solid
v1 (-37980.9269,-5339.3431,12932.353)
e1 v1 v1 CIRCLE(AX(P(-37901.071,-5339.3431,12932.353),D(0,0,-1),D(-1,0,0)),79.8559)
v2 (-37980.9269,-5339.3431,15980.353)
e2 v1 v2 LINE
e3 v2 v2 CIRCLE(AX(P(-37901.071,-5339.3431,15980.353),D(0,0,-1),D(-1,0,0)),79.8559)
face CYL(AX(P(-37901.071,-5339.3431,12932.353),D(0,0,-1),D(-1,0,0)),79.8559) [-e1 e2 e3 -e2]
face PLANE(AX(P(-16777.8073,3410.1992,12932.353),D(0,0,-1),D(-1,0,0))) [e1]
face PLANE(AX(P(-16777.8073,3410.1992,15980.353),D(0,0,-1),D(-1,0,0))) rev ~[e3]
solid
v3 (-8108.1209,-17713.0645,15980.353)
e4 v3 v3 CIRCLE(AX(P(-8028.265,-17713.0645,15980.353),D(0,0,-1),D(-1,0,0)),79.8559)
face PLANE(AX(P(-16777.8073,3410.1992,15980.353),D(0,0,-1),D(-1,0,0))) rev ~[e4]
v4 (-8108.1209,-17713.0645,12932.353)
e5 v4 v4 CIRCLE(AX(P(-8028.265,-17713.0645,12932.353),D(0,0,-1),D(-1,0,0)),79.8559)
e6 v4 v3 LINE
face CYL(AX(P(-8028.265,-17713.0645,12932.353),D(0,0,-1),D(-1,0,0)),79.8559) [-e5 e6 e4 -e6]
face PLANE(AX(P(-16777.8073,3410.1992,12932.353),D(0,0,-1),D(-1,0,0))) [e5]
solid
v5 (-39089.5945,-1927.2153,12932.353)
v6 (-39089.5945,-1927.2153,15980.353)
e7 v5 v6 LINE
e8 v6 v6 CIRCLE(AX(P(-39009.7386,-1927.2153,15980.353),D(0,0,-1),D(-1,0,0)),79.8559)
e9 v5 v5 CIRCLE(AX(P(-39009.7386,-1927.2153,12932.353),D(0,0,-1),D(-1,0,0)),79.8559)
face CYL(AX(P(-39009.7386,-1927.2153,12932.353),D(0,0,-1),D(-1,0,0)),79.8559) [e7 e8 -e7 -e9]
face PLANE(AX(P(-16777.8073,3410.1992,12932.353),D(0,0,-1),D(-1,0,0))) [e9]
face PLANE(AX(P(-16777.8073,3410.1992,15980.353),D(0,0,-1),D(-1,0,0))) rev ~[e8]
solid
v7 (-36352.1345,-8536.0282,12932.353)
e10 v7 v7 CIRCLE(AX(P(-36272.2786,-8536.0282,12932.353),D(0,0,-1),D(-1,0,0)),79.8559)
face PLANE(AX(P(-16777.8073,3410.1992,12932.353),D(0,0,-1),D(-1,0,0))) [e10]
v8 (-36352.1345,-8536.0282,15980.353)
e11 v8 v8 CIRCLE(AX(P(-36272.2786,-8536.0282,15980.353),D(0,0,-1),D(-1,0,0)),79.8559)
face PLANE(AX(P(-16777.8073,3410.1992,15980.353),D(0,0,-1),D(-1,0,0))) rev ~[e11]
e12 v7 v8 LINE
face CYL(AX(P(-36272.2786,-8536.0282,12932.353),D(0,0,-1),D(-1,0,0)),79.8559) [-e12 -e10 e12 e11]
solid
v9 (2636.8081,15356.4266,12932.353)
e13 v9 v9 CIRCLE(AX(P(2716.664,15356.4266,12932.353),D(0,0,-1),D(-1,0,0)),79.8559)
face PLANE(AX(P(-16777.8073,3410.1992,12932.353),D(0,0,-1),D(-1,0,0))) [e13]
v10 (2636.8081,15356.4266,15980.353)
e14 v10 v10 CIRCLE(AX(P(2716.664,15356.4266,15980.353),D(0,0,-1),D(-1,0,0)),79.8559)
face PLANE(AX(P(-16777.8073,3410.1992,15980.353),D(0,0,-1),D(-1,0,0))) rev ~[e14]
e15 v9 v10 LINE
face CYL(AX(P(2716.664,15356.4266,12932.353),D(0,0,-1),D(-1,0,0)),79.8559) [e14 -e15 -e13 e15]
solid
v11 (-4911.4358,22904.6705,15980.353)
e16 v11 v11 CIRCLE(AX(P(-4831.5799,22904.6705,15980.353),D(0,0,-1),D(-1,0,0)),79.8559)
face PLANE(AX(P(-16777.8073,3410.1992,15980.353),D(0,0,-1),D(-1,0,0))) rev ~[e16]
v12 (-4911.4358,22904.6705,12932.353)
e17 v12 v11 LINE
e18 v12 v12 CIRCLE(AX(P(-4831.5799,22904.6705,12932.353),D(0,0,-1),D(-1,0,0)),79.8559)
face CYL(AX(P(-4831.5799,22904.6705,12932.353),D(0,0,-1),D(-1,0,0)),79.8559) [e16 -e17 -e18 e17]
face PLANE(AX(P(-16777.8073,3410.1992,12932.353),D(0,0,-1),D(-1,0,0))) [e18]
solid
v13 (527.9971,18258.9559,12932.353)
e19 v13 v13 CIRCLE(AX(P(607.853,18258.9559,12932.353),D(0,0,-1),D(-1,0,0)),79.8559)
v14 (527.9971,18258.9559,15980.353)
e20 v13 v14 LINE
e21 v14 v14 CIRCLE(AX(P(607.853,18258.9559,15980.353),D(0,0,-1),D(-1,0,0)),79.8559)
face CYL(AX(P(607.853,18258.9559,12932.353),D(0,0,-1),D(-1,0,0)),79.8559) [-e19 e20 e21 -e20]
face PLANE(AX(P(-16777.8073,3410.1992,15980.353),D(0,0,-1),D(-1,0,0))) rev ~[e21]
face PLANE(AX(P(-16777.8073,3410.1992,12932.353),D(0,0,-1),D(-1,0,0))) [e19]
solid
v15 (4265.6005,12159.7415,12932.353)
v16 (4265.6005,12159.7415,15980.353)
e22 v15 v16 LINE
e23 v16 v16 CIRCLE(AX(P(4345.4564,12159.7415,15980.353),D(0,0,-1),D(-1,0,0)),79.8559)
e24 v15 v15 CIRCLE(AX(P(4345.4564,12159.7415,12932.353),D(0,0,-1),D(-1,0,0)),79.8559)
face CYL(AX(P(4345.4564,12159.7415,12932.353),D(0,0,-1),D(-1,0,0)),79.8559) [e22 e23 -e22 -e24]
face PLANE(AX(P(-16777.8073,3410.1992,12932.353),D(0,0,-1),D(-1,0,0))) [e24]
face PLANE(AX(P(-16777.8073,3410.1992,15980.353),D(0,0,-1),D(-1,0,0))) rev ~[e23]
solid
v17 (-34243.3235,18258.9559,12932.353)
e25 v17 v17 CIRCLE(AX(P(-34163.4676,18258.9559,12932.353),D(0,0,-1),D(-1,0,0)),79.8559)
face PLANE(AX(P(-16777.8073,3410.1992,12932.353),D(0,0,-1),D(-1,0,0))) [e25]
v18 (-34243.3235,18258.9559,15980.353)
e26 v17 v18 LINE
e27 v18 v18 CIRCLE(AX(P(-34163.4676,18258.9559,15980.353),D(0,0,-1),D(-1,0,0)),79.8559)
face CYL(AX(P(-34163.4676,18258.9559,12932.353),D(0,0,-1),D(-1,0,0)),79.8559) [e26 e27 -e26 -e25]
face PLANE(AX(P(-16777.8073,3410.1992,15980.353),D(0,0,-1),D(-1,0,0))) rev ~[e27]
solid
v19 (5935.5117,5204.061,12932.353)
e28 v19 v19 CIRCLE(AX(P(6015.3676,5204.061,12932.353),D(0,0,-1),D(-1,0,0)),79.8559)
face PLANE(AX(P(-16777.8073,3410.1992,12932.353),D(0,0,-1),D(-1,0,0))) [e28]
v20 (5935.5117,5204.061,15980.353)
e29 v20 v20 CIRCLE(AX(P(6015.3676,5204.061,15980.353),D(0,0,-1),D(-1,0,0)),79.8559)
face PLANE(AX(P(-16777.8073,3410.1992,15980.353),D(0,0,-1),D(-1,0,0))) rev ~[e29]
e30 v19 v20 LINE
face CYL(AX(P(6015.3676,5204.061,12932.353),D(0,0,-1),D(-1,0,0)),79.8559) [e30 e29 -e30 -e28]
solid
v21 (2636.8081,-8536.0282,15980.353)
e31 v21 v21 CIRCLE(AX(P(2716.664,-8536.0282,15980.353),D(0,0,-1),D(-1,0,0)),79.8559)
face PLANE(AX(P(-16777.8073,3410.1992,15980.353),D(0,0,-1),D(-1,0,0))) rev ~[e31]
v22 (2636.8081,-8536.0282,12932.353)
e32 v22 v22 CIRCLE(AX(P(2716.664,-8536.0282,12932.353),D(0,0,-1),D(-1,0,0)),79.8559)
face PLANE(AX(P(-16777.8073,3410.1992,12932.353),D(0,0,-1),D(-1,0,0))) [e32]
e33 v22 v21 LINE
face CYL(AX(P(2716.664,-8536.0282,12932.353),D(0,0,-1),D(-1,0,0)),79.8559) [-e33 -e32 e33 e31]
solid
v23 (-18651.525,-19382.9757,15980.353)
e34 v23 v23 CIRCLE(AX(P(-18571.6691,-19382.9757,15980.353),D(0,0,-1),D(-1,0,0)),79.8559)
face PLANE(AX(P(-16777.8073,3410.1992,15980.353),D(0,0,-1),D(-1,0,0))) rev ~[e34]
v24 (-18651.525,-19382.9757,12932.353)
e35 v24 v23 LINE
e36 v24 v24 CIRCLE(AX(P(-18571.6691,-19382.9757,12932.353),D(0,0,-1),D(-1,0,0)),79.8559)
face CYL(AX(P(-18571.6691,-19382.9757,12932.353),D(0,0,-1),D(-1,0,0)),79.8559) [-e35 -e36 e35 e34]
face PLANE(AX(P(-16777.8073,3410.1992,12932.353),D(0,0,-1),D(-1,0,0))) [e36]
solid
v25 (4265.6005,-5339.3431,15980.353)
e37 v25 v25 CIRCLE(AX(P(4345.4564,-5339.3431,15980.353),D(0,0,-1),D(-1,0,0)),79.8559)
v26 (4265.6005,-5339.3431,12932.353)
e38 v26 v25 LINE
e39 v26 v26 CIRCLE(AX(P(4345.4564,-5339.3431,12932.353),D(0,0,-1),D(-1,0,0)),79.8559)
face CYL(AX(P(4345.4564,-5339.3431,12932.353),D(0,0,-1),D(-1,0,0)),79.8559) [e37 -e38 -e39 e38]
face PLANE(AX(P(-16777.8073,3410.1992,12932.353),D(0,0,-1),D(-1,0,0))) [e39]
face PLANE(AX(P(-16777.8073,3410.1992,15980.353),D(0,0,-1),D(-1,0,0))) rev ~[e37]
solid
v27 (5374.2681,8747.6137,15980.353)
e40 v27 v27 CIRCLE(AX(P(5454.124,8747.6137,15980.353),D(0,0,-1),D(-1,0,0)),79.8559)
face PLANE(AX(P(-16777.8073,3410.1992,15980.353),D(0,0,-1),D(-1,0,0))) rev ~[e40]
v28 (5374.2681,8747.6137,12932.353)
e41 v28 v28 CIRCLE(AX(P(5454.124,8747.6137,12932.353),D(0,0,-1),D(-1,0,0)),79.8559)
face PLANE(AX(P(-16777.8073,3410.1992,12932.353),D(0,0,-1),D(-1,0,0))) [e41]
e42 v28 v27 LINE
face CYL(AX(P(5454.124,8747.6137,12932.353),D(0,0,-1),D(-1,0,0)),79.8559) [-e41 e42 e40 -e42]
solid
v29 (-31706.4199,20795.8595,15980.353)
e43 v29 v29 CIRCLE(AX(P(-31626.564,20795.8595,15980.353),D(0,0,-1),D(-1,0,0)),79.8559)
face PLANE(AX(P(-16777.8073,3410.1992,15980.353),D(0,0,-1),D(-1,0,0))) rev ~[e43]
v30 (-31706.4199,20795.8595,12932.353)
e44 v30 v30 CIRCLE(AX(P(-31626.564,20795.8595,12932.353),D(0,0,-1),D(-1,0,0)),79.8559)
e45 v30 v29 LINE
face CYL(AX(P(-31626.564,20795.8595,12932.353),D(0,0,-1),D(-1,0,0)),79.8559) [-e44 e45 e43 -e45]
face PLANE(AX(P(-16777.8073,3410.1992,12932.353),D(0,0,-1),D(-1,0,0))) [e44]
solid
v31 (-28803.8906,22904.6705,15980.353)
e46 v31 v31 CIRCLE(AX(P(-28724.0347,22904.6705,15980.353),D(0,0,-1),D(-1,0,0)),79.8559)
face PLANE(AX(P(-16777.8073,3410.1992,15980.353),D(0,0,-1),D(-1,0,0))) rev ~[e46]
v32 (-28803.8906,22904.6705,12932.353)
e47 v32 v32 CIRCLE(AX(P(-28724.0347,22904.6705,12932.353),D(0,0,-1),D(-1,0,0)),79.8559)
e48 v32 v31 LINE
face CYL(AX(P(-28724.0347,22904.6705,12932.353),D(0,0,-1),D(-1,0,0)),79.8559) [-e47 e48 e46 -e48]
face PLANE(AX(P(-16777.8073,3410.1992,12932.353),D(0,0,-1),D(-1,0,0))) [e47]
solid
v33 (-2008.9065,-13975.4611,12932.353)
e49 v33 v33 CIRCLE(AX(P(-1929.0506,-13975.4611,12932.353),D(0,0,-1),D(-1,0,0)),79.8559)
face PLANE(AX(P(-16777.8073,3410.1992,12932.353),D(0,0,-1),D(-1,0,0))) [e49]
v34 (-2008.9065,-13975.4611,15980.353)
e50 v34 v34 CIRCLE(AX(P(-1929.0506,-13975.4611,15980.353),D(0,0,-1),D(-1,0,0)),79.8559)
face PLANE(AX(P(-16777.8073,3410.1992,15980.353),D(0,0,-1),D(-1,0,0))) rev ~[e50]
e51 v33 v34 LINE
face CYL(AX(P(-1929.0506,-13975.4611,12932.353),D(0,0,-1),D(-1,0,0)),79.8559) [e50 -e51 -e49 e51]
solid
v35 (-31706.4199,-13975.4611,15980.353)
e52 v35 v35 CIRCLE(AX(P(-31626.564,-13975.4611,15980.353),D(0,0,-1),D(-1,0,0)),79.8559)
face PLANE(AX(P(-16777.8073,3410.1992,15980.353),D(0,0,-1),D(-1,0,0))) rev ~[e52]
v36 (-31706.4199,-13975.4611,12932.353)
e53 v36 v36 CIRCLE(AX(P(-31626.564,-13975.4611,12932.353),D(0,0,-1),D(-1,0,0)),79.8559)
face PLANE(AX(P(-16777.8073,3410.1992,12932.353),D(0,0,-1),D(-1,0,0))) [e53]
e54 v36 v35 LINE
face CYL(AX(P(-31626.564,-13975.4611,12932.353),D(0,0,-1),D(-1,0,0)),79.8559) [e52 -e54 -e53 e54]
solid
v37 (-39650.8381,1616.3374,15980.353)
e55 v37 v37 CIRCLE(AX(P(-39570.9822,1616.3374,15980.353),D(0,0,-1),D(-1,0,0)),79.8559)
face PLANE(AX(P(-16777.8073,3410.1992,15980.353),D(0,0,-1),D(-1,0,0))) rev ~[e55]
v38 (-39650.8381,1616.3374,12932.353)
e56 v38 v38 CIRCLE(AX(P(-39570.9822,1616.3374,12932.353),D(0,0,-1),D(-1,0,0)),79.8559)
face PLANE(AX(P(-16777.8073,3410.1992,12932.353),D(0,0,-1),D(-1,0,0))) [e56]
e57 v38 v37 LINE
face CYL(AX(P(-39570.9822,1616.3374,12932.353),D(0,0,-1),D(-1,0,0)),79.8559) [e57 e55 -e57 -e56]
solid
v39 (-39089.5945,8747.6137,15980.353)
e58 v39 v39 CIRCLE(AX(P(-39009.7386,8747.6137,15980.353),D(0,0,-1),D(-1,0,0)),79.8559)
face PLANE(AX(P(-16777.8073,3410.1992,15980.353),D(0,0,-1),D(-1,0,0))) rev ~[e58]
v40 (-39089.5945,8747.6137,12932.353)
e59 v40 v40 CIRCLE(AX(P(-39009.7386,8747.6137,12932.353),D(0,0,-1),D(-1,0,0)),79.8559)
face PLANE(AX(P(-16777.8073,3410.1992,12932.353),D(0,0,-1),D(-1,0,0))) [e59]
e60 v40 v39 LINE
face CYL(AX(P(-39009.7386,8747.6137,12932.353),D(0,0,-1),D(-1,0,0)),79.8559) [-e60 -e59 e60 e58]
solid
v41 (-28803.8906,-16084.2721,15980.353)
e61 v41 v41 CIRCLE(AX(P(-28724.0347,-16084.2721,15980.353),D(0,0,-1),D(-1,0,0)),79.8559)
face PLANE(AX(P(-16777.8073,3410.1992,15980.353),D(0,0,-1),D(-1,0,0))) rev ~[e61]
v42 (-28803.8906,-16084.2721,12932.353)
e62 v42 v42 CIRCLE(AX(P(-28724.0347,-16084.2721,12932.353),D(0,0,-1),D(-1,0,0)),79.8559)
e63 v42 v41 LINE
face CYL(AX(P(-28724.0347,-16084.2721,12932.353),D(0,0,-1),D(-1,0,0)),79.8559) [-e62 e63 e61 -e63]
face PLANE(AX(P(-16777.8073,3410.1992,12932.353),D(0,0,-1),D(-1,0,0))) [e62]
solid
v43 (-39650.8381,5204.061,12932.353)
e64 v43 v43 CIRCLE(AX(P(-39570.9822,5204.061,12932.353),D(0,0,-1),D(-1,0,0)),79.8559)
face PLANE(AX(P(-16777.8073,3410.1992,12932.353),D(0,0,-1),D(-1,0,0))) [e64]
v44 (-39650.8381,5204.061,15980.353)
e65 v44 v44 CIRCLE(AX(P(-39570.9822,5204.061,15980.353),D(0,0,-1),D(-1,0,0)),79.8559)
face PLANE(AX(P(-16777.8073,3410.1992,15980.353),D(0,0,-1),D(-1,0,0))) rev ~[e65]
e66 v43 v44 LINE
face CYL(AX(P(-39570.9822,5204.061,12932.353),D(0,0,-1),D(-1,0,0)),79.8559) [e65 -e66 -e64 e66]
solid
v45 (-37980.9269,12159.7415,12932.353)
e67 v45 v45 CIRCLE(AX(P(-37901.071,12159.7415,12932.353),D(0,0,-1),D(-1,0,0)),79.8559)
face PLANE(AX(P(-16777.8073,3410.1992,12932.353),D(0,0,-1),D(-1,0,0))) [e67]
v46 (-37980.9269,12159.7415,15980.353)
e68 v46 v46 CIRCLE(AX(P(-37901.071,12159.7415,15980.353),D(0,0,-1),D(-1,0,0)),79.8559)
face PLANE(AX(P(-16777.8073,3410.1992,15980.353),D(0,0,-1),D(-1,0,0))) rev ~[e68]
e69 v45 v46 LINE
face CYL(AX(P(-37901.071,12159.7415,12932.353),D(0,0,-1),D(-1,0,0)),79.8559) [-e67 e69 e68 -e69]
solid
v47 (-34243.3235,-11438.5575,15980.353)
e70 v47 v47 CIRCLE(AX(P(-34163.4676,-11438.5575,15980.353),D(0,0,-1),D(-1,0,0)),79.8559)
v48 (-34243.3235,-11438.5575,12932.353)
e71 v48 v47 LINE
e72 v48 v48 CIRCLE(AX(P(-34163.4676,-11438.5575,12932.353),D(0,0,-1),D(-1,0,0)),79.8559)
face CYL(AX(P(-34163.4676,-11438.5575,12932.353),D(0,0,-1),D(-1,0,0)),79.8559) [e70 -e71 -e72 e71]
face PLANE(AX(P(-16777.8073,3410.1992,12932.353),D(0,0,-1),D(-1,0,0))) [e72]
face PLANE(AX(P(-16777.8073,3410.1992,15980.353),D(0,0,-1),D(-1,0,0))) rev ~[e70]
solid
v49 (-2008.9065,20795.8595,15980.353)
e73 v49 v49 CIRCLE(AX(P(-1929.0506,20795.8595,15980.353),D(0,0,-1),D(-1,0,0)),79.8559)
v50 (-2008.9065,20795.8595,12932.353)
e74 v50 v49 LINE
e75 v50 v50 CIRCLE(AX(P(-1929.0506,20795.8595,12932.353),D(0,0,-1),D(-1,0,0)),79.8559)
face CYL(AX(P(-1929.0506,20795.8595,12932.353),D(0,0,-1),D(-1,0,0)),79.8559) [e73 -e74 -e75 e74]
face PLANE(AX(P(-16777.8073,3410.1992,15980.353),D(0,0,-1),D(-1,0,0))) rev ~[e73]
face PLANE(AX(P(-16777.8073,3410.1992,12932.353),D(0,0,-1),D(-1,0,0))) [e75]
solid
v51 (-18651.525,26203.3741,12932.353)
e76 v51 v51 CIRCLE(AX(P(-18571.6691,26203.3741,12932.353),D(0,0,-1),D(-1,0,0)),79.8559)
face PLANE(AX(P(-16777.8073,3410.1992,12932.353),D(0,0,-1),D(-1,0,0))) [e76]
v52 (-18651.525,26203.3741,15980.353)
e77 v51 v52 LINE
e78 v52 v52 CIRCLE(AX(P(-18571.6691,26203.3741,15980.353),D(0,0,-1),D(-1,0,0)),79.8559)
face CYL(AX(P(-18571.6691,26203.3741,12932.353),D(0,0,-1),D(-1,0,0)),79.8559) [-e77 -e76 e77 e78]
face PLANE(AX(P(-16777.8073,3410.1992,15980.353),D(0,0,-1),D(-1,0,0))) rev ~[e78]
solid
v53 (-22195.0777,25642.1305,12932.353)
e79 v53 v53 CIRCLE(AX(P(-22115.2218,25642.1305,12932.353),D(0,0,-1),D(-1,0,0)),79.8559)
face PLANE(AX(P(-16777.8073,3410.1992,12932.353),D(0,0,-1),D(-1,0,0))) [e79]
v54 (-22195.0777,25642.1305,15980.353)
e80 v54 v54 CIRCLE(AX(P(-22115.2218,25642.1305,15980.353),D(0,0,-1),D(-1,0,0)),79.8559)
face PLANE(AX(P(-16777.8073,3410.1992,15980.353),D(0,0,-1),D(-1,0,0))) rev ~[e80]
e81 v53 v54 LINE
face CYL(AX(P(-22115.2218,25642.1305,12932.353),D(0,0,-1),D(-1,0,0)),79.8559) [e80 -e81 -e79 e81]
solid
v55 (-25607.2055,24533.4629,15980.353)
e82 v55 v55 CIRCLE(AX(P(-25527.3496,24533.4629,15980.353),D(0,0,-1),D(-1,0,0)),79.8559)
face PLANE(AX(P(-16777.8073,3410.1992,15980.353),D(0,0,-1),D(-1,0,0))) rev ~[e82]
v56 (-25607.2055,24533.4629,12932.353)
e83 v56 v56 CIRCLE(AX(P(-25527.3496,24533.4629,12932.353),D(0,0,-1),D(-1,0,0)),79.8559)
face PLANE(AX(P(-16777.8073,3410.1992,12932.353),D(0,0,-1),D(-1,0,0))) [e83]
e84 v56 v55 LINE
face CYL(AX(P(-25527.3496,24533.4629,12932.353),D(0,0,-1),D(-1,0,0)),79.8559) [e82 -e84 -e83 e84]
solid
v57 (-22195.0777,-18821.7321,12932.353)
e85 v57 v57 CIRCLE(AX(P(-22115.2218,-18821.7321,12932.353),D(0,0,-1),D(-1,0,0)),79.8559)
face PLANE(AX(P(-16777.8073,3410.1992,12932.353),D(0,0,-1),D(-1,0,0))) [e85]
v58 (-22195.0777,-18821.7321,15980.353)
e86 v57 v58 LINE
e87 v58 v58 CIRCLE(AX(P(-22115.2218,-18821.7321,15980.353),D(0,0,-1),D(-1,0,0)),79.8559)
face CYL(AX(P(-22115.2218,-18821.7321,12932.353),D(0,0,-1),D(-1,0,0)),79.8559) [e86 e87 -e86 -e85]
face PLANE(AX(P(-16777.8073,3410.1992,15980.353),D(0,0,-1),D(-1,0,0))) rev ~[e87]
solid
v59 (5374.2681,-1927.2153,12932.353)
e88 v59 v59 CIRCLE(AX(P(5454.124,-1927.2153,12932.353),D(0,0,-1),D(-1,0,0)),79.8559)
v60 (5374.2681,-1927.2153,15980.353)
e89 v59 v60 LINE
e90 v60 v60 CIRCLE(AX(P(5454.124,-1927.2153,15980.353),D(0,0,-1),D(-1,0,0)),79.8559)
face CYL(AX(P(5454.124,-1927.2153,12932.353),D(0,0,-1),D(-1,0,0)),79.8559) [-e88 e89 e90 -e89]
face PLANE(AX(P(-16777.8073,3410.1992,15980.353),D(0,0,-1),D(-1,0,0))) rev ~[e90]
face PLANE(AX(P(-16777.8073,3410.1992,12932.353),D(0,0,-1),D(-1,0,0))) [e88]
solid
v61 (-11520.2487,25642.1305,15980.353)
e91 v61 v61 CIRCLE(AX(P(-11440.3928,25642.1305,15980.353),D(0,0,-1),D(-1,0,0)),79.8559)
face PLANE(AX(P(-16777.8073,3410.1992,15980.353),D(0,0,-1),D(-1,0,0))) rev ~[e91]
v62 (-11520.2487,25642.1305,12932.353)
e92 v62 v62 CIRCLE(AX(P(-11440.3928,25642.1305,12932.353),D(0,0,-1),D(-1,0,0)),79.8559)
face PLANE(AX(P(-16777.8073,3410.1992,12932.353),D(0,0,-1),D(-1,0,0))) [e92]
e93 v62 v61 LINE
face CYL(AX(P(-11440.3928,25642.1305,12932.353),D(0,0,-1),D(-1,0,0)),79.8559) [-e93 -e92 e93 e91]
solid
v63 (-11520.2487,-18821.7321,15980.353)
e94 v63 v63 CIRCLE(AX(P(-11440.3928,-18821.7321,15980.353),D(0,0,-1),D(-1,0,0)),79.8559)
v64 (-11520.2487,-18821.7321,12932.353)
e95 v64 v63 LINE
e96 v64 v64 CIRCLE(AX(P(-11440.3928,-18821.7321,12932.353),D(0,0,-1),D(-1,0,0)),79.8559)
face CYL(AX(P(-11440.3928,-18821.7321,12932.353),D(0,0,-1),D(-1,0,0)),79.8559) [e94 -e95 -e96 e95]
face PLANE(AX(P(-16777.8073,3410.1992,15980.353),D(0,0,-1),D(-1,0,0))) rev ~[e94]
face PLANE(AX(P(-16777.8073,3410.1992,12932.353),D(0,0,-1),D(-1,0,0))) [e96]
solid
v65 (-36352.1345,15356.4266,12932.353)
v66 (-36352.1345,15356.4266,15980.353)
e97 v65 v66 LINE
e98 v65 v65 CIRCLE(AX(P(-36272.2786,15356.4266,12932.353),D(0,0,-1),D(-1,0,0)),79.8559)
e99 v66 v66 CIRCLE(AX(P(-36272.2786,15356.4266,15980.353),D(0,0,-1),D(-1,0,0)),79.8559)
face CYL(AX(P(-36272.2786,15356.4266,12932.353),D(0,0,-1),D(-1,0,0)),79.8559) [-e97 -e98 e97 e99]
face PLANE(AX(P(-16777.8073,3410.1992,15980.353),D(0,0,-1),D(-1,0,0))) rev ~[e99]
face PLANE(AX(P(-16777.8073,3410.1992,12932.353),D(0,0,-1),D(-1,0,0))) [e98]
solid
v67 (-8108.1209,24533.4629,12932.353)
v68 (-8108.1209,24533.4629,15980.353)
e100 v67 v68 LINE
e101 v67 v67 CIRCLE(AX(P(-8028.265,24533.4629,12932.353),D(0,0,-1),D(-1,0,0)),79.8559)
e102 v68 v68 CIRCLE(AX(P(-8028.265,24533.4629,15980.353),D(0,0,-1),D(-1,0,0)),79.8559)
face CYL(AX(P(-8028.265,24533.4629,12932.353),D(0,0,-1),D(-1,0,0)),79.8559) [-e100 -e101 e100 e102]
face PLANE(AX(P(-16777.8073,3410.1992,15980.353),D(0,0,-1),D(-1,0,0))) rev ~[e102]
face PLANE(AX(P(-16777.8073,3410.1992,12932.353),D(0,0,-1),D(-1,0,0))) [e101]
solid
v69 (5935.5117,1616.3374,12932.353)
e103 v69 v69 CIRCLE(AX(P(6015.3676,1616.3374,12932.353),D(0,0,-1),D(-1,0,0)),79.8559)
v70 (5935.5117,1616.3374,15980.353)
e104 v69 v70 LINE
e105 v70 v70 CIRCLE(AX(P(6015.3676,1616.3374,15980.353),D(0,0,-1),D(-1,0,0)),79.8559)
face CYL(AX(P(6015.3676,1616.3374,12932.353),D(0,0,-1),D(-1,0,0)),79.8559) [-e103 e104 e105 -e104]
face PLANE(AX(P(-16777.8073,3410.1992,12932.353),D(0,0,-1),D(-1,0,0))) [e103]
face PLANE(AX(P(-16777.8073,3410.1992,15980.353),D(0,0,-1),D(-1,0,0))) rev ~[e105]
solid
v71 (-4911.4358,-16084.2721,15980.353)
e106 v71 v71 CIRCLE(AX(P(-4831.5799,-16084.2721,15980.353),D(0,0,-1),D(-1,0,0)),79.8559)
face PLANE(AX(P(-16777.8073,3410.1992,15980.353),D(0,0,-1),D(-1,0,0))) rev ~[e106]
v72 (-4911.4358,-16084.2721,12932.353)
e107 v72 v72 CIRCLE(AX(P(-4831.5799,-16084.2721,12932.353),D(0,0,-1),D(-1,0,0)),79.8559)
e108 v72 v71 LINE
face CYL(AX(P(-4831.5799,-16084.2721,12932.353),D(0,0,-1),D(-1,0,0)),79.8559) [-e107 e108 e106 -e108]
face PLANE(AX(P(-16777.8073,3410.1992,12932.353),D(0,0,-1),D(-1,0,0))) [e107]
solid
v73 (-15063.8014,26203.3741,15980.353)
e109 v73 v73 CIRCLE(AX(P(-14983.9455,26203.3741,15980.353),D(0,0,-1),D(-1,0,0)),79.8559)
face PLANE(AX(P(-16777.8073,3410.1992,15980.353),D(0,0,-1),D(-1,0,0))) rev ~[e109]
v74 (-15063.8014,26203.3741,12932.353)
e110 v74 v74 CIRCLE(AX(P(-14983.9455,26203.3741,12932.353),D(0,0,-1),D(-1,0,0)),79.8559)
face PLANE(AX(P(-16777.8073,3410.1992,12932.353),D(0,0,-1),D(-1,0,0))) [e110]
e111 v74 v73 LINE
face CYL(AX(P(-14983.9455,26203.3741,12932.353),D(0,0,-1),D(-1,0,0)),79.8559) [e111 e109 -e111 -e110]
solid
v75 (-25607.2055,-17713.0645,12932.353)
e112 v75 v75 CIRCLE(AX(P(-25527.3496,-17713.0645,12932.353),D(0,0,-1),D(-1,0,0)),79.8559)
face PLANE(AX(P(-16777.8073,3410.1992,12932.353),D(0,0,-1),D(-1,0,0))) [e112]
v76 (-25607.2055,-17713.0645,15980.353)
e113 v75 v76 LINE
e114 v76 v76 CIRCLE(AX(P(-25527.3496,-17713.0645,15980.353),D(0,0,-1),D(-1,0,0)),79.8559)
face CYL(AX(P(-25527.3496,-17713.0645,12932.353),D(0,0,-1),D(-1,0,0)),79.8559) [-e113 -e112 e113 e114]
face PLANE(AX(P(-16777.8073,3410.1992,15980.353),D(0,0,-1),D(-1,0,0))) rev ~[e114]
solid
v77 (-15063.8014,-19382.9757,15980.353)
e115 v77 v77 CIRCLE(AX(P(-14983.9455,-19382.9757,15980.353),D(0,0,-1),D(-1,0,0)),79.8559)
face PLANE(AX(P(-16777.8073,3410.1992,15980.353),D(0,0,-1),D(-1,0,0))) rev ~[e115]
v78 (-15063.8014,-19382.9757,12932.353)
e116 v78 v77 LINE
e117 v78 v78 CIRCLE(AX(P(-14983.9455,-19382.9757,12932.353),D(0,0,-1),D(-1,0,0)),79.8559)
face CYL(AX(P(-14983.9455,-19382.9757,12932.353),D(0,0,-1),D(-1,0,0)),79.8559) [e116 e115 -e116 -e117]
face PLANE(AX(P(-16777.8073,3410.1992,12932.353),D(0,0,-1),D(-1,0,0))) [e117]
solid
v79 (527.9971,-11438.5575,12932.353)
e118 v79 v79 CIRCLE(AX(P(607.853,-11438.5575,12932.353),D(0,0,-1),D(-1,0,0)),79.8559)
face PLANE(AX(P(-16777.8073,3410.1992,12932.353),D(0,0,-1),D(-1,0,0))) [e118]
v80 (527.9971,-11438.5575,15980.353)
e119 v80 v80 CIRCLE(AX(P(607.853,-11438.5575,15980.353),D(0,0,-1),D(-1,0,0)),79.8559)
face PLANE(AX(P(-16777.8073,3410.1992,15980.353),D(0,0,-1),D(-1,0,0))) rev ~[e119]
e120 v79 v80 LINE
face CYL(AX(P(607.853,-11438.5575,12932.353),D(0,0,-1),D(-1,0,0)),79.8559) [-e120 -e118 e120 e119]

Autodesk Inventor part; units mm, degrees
ref_plane "YZ Plane" through (0, 0, 0) normal (1, 0, 0) x (0, 1, 0)
ref_plane "XZ Plane" through (0, 0, 0) normal (0, 1, 0) x (-1, 0, 0)
ref_plane "XY Plane" through (0, 0, 0) normal (0, 0, 1) x (1, 0, 0)
ref_plane "Work Plane1" through (-16777.8073, 3410.1992, 12932.353) normal (0, 0, -1) x (-1, 0, 0)
sketch "Sketch1" plane through (-16777.8073, 3410.1992, 12932.353) normal (0, 0, -1) x (-1, 0, 0)
  spline S0 degree 3 poles (1787.5963, -22713.5651) (1796.933, -22712.8303) (1806.2285, -22713.8219) (1823.8007, -22718.9951) (1831.9195, -22723.0743) (1845.5285, -22733.2145) (1851.1813, -22739.0026) (1859.0635, -22750.172) (1861.7949, -22755.1133) (1865.1558, -22763.2184) (1866.1736, -22766.1708) (1867.7403, -22771.8258) (1868.3297, -22774.5064) (1869.0711, -22779.0348) (1869.3028, -22780.863) (1869.6271, -22784.4651) (1869.7243, -22786.2362) (1869.8079, -22790.4203) (1869.7415, -22792.8298) (1869.1606, -22800.574) (1868.1998, -22805.834) (1864.1201, -22819.7731) (1859.9747, -22828.0001) (1848.4945, -22843.301) (1840.9093, -22850.0977) (1824.1853, -22859.925) (1815.3515, -22863.1587) (1797.0673, -22866.1927) (1787.9629, -22866.0592) (1770.0263, -22862.5855) (1761.4423, -22859.2176) (1746.5837, -22850.0953) (1740.2189, -22844.5735) (1730.6222, -22832.9803) (1727.0373, -22827.2763) (1722.1773, -22816.6133) (1720.5572, -22811.8887) (1718.857, -22804.6778) (1718.416, -22802.3121) (1717.8457, -22798.171) (1717.6652, -22796.4072) (1717.4227, -22792.7982) (1717.366, -22790.955) (1717.3912, -22786.3595) (1717.5553, -22783.6142) (1718.6356, -22774.1527) (1720.2926, -22767.5981) (1726.1714, -22752.8148) (1731.0778, -22744.9933) (1743.9358, -22730.8587) (1752.0993, -22724.8087) (1769.518, -22716.6571) (1778.4076, -22714.2883) (1787.5963, -22713.5651) knots -48.628129 -48.628129 -48.628129 -48.628129 -45.818477 -45.818477 -43.059709 -43.059709 -40.592576 -40.592576 -38.879476 -38.879476 -37.937375 -37.937375 -37.112282 -37.112282 -36.559036 -36.559036 -36.026603 -36.026603 -35.302415 -35.302415 -33.690511 -33.690511 -30.897392 -30.897392 -27.805121 -27.805121 -24.973301 -24.973301 -22.23931 -22.23931 -19.448539 -19.448539 -16.87872 -16.87872 -14.832246 -14.832246 -13.326516 -13.326516 -12.60349 -12.60349 -12.071274 -12.071274 -11.517677 -11.517677 -10.690972 -10.690972 -8.650094 -8.650094 -5.844294 -5.844294 -2.765135 -2.765135 0 0 0 0 construction
  spline S1 degree 3 poles (1787.5963, -22720.8531) (1796.933, -22720.1183) (1806.2285, -22721.1098) (1823.8007, -22726.2831) (1831.9195, -22730.3622) (1845.5285, -22740.5024) (1851.1813, -22746.2905) (1859.0635, -22757.46) (1861.7949, -22762.4012) (1865.1558, -22770.5064) (1866.1736, -22773.4587) (1867.7403, -22779.1137) (1868.3297, -22781.7943) (1869.0711, -22786.3227) (1869.3028, -22788.1509) (1869.6271, -22791.7531) (1869.7243, -22793.5241) (1869.8079, -22797.7082) (1869.7415, -22800.1177) (1869.1606, -22807.8619) (1868.1998, -22813.122) (1864.1201, -22827.061) (1859.9747, -22835.288) (1848.4945, -22850.5889) (1840.9093, -22857.3857) (1824.1853, -22867.213) (1815.3515, -22870.4466) (1797.0673, -22873.4806) (1787.9629, -22873.3472) (1770.0263, -22869.8735) (1761.4423, -22866.5055) (1746.5837, -22857.3833) (1740.2189, -22851.8614) (1730.6222, -22840.2683) (1727.0373, -22834.5643) (1722.1773, -22823.9013) (1720.5572, -22819.1766) (1718.857, -22811.9657) (1718.416, -22809.6) (1717.8457, -22805.4589) (1717.6652, -22803.6951) (1717.4227, -22800.0861) (1717.366, -22798.2429) (1717.3912, -22793.6474) (1717.5553, -22790.9021) (1718.6356, -22781.4407) (1720.2926, -22774.886) (1726.1714, -22760.1027) (1731.0778, -22752.2812) (1743.9358, -22738.1467) (1752.0993, -22732.0966) (1769.518, -22723.945) (1778.4076, -22721.5762) (1787.5963, -22720.8531) knots -48.628129 -48.628129 -48.628129 -48.628129 -45.818477 -45.818477 -43.059709 -43.059709 -40.592576 -40.592576 -38.879476 -38.879476 -37.937375 -37.937375 -37.112282 -37.112282 -36.559036 -36.559036 -36.026603 -36.026603 -35.302415 -35.302415 -33.690511 -33.690511 -30.897392 -30.897392 -27.805121 -27.805121 -24.973301 -24.973301 -22.23931 -22.23931 -19.448539 -19.448539 -16.87872 -16.87872 -14.832246 -14.832246 -13.326516 -13.326516 -12.60349 -12.60349 -12.071274 -12.071274 -11.517677 -11.517677 -10.690972 -10.690972 -8.650094 -8.650094 -5.844294 -5.844294 -2.765135 -2.765135 0 0 0 0 construction
  circle A0 centre (1793.8618, -22793.1749) radius 79.8559
  line L0 (-32252.92, 0) -> (32252.92, 0) construction
  line L1 (0, -32252.92) -> (0, 32252.92) construction
  line L2 (0, 0) -> (1793.8618, -22793.1749) construction
  circle A1 centre (5337.4145, -22231.9313) radius 79.8559
  circle A2 centre (8749.5423, -21123.2637) radius 79.8559
  circle A3 centre (11946.2274, -19494.4713) radius 79.8559
  circle A4 centre (14848.7567, -17385.6603) radius 79.8559
  circle A5 centre (17385.6603, -14848.7567) radius 79.8559
  circle A6 centre (19494.4713, -11946.2274) radius 79.8559
  circle A7 centre (21123.2637, -8749.5423) radius 79.8559
  circle A8 centre (22231.9313, -5337.4145) radius 79.8559
  circle A9 centre (22793.1749, -1793.8618) radius 79.8559
  circle A10 centre (22793.1749, 1793.8618) radius 79.8559
  circle A11 centre (22231.9313, 5337.4145) radius 79.8559
  circle A12 centre (21123.2637, 8749.5423) radius 79.8559
  circle A13 centre (19494.4713, 11946.2274) radius 79.8559
  circle A14 centre (17385.6603, 14848.7567) radius 79.8559
  circle A15 centre (14848.7567, 17385.6603) radius 79.8559
  circle A16 centre (11946.2274, 19494.4713) radius 79.8559
  circle A17 centre (8749.5423, 21123.2637) radius 79.8559
  circle A18 centre (5337.4145, 22231.9313) radius 79.8559
  circle A19 centre (1793.8618, 22793.1749) radius 79.8559
  circle A20 centre (-1793.8618, 22793.1749) radius 79.8559
  circle A21 centre (-5337.4145, 22231.9313) radius 79.8559
  circle A22 centre (-8749.5423, 21123.2637) radius 79.8559
  circle A23 centre (-11946.2274, 19494.4713) radius 79.8559
  circle A24 centre (-14848.7567, 17385.6603) radius 79.8559
  circle A25 centre (-17385.6603, 14848.7567) radius 79.8559
  circle A26 centre (-19494.4713, 11946.2274) radius 79.8559
  circle A27 centre (-21123.2637, 8749.5423) radius 79.8559
  circle A28 centre (-22231.9313, 5337.4145) radius 79.8559
  circle A29 centre (-22793.1749, 1793.8618) radius 79.8559
  circle A30 centre (-22793.1749, -1793.8618) radius 79.8559
  circle A31 centre (-22231.9313, -5337.4145) radius 79.8559
  circle A32 centre (-21123.2637, -8749.5423) radius 79.8559
  circle A33 centre (-19494.4713, -11946.2274) radius 79.8559
  circle A34 centre (-17385.6603, -14848.7567) radius 79.8559
  circle A35 centre (-14848.7567, -17385.6603) radius 79.8559
  circle A36 centre (-11946.2274, -19494.4713) radius 79.8559
  circle A37 centre (-8749.5423, -21123.2637) radius 79.8559
  circle A38 centre (-5337.4145, -22231.9313) radius 79.8559
  circle A39 centre (-1793.8618, -22793.1749) radius 79.8559
  point P0 (-16777.8073, -3410.1992)
  point P1 (1787.5963, -22713.5651)
  point P2 (1787.5963, -22720.8531)
  dimension "d0" = 4.5
  dimension "d3" = 360
extrude "Extrusion1" add sketch "Sketch1" against normal blind 3048
properties part number "WheelConnectionPoleAJB"
